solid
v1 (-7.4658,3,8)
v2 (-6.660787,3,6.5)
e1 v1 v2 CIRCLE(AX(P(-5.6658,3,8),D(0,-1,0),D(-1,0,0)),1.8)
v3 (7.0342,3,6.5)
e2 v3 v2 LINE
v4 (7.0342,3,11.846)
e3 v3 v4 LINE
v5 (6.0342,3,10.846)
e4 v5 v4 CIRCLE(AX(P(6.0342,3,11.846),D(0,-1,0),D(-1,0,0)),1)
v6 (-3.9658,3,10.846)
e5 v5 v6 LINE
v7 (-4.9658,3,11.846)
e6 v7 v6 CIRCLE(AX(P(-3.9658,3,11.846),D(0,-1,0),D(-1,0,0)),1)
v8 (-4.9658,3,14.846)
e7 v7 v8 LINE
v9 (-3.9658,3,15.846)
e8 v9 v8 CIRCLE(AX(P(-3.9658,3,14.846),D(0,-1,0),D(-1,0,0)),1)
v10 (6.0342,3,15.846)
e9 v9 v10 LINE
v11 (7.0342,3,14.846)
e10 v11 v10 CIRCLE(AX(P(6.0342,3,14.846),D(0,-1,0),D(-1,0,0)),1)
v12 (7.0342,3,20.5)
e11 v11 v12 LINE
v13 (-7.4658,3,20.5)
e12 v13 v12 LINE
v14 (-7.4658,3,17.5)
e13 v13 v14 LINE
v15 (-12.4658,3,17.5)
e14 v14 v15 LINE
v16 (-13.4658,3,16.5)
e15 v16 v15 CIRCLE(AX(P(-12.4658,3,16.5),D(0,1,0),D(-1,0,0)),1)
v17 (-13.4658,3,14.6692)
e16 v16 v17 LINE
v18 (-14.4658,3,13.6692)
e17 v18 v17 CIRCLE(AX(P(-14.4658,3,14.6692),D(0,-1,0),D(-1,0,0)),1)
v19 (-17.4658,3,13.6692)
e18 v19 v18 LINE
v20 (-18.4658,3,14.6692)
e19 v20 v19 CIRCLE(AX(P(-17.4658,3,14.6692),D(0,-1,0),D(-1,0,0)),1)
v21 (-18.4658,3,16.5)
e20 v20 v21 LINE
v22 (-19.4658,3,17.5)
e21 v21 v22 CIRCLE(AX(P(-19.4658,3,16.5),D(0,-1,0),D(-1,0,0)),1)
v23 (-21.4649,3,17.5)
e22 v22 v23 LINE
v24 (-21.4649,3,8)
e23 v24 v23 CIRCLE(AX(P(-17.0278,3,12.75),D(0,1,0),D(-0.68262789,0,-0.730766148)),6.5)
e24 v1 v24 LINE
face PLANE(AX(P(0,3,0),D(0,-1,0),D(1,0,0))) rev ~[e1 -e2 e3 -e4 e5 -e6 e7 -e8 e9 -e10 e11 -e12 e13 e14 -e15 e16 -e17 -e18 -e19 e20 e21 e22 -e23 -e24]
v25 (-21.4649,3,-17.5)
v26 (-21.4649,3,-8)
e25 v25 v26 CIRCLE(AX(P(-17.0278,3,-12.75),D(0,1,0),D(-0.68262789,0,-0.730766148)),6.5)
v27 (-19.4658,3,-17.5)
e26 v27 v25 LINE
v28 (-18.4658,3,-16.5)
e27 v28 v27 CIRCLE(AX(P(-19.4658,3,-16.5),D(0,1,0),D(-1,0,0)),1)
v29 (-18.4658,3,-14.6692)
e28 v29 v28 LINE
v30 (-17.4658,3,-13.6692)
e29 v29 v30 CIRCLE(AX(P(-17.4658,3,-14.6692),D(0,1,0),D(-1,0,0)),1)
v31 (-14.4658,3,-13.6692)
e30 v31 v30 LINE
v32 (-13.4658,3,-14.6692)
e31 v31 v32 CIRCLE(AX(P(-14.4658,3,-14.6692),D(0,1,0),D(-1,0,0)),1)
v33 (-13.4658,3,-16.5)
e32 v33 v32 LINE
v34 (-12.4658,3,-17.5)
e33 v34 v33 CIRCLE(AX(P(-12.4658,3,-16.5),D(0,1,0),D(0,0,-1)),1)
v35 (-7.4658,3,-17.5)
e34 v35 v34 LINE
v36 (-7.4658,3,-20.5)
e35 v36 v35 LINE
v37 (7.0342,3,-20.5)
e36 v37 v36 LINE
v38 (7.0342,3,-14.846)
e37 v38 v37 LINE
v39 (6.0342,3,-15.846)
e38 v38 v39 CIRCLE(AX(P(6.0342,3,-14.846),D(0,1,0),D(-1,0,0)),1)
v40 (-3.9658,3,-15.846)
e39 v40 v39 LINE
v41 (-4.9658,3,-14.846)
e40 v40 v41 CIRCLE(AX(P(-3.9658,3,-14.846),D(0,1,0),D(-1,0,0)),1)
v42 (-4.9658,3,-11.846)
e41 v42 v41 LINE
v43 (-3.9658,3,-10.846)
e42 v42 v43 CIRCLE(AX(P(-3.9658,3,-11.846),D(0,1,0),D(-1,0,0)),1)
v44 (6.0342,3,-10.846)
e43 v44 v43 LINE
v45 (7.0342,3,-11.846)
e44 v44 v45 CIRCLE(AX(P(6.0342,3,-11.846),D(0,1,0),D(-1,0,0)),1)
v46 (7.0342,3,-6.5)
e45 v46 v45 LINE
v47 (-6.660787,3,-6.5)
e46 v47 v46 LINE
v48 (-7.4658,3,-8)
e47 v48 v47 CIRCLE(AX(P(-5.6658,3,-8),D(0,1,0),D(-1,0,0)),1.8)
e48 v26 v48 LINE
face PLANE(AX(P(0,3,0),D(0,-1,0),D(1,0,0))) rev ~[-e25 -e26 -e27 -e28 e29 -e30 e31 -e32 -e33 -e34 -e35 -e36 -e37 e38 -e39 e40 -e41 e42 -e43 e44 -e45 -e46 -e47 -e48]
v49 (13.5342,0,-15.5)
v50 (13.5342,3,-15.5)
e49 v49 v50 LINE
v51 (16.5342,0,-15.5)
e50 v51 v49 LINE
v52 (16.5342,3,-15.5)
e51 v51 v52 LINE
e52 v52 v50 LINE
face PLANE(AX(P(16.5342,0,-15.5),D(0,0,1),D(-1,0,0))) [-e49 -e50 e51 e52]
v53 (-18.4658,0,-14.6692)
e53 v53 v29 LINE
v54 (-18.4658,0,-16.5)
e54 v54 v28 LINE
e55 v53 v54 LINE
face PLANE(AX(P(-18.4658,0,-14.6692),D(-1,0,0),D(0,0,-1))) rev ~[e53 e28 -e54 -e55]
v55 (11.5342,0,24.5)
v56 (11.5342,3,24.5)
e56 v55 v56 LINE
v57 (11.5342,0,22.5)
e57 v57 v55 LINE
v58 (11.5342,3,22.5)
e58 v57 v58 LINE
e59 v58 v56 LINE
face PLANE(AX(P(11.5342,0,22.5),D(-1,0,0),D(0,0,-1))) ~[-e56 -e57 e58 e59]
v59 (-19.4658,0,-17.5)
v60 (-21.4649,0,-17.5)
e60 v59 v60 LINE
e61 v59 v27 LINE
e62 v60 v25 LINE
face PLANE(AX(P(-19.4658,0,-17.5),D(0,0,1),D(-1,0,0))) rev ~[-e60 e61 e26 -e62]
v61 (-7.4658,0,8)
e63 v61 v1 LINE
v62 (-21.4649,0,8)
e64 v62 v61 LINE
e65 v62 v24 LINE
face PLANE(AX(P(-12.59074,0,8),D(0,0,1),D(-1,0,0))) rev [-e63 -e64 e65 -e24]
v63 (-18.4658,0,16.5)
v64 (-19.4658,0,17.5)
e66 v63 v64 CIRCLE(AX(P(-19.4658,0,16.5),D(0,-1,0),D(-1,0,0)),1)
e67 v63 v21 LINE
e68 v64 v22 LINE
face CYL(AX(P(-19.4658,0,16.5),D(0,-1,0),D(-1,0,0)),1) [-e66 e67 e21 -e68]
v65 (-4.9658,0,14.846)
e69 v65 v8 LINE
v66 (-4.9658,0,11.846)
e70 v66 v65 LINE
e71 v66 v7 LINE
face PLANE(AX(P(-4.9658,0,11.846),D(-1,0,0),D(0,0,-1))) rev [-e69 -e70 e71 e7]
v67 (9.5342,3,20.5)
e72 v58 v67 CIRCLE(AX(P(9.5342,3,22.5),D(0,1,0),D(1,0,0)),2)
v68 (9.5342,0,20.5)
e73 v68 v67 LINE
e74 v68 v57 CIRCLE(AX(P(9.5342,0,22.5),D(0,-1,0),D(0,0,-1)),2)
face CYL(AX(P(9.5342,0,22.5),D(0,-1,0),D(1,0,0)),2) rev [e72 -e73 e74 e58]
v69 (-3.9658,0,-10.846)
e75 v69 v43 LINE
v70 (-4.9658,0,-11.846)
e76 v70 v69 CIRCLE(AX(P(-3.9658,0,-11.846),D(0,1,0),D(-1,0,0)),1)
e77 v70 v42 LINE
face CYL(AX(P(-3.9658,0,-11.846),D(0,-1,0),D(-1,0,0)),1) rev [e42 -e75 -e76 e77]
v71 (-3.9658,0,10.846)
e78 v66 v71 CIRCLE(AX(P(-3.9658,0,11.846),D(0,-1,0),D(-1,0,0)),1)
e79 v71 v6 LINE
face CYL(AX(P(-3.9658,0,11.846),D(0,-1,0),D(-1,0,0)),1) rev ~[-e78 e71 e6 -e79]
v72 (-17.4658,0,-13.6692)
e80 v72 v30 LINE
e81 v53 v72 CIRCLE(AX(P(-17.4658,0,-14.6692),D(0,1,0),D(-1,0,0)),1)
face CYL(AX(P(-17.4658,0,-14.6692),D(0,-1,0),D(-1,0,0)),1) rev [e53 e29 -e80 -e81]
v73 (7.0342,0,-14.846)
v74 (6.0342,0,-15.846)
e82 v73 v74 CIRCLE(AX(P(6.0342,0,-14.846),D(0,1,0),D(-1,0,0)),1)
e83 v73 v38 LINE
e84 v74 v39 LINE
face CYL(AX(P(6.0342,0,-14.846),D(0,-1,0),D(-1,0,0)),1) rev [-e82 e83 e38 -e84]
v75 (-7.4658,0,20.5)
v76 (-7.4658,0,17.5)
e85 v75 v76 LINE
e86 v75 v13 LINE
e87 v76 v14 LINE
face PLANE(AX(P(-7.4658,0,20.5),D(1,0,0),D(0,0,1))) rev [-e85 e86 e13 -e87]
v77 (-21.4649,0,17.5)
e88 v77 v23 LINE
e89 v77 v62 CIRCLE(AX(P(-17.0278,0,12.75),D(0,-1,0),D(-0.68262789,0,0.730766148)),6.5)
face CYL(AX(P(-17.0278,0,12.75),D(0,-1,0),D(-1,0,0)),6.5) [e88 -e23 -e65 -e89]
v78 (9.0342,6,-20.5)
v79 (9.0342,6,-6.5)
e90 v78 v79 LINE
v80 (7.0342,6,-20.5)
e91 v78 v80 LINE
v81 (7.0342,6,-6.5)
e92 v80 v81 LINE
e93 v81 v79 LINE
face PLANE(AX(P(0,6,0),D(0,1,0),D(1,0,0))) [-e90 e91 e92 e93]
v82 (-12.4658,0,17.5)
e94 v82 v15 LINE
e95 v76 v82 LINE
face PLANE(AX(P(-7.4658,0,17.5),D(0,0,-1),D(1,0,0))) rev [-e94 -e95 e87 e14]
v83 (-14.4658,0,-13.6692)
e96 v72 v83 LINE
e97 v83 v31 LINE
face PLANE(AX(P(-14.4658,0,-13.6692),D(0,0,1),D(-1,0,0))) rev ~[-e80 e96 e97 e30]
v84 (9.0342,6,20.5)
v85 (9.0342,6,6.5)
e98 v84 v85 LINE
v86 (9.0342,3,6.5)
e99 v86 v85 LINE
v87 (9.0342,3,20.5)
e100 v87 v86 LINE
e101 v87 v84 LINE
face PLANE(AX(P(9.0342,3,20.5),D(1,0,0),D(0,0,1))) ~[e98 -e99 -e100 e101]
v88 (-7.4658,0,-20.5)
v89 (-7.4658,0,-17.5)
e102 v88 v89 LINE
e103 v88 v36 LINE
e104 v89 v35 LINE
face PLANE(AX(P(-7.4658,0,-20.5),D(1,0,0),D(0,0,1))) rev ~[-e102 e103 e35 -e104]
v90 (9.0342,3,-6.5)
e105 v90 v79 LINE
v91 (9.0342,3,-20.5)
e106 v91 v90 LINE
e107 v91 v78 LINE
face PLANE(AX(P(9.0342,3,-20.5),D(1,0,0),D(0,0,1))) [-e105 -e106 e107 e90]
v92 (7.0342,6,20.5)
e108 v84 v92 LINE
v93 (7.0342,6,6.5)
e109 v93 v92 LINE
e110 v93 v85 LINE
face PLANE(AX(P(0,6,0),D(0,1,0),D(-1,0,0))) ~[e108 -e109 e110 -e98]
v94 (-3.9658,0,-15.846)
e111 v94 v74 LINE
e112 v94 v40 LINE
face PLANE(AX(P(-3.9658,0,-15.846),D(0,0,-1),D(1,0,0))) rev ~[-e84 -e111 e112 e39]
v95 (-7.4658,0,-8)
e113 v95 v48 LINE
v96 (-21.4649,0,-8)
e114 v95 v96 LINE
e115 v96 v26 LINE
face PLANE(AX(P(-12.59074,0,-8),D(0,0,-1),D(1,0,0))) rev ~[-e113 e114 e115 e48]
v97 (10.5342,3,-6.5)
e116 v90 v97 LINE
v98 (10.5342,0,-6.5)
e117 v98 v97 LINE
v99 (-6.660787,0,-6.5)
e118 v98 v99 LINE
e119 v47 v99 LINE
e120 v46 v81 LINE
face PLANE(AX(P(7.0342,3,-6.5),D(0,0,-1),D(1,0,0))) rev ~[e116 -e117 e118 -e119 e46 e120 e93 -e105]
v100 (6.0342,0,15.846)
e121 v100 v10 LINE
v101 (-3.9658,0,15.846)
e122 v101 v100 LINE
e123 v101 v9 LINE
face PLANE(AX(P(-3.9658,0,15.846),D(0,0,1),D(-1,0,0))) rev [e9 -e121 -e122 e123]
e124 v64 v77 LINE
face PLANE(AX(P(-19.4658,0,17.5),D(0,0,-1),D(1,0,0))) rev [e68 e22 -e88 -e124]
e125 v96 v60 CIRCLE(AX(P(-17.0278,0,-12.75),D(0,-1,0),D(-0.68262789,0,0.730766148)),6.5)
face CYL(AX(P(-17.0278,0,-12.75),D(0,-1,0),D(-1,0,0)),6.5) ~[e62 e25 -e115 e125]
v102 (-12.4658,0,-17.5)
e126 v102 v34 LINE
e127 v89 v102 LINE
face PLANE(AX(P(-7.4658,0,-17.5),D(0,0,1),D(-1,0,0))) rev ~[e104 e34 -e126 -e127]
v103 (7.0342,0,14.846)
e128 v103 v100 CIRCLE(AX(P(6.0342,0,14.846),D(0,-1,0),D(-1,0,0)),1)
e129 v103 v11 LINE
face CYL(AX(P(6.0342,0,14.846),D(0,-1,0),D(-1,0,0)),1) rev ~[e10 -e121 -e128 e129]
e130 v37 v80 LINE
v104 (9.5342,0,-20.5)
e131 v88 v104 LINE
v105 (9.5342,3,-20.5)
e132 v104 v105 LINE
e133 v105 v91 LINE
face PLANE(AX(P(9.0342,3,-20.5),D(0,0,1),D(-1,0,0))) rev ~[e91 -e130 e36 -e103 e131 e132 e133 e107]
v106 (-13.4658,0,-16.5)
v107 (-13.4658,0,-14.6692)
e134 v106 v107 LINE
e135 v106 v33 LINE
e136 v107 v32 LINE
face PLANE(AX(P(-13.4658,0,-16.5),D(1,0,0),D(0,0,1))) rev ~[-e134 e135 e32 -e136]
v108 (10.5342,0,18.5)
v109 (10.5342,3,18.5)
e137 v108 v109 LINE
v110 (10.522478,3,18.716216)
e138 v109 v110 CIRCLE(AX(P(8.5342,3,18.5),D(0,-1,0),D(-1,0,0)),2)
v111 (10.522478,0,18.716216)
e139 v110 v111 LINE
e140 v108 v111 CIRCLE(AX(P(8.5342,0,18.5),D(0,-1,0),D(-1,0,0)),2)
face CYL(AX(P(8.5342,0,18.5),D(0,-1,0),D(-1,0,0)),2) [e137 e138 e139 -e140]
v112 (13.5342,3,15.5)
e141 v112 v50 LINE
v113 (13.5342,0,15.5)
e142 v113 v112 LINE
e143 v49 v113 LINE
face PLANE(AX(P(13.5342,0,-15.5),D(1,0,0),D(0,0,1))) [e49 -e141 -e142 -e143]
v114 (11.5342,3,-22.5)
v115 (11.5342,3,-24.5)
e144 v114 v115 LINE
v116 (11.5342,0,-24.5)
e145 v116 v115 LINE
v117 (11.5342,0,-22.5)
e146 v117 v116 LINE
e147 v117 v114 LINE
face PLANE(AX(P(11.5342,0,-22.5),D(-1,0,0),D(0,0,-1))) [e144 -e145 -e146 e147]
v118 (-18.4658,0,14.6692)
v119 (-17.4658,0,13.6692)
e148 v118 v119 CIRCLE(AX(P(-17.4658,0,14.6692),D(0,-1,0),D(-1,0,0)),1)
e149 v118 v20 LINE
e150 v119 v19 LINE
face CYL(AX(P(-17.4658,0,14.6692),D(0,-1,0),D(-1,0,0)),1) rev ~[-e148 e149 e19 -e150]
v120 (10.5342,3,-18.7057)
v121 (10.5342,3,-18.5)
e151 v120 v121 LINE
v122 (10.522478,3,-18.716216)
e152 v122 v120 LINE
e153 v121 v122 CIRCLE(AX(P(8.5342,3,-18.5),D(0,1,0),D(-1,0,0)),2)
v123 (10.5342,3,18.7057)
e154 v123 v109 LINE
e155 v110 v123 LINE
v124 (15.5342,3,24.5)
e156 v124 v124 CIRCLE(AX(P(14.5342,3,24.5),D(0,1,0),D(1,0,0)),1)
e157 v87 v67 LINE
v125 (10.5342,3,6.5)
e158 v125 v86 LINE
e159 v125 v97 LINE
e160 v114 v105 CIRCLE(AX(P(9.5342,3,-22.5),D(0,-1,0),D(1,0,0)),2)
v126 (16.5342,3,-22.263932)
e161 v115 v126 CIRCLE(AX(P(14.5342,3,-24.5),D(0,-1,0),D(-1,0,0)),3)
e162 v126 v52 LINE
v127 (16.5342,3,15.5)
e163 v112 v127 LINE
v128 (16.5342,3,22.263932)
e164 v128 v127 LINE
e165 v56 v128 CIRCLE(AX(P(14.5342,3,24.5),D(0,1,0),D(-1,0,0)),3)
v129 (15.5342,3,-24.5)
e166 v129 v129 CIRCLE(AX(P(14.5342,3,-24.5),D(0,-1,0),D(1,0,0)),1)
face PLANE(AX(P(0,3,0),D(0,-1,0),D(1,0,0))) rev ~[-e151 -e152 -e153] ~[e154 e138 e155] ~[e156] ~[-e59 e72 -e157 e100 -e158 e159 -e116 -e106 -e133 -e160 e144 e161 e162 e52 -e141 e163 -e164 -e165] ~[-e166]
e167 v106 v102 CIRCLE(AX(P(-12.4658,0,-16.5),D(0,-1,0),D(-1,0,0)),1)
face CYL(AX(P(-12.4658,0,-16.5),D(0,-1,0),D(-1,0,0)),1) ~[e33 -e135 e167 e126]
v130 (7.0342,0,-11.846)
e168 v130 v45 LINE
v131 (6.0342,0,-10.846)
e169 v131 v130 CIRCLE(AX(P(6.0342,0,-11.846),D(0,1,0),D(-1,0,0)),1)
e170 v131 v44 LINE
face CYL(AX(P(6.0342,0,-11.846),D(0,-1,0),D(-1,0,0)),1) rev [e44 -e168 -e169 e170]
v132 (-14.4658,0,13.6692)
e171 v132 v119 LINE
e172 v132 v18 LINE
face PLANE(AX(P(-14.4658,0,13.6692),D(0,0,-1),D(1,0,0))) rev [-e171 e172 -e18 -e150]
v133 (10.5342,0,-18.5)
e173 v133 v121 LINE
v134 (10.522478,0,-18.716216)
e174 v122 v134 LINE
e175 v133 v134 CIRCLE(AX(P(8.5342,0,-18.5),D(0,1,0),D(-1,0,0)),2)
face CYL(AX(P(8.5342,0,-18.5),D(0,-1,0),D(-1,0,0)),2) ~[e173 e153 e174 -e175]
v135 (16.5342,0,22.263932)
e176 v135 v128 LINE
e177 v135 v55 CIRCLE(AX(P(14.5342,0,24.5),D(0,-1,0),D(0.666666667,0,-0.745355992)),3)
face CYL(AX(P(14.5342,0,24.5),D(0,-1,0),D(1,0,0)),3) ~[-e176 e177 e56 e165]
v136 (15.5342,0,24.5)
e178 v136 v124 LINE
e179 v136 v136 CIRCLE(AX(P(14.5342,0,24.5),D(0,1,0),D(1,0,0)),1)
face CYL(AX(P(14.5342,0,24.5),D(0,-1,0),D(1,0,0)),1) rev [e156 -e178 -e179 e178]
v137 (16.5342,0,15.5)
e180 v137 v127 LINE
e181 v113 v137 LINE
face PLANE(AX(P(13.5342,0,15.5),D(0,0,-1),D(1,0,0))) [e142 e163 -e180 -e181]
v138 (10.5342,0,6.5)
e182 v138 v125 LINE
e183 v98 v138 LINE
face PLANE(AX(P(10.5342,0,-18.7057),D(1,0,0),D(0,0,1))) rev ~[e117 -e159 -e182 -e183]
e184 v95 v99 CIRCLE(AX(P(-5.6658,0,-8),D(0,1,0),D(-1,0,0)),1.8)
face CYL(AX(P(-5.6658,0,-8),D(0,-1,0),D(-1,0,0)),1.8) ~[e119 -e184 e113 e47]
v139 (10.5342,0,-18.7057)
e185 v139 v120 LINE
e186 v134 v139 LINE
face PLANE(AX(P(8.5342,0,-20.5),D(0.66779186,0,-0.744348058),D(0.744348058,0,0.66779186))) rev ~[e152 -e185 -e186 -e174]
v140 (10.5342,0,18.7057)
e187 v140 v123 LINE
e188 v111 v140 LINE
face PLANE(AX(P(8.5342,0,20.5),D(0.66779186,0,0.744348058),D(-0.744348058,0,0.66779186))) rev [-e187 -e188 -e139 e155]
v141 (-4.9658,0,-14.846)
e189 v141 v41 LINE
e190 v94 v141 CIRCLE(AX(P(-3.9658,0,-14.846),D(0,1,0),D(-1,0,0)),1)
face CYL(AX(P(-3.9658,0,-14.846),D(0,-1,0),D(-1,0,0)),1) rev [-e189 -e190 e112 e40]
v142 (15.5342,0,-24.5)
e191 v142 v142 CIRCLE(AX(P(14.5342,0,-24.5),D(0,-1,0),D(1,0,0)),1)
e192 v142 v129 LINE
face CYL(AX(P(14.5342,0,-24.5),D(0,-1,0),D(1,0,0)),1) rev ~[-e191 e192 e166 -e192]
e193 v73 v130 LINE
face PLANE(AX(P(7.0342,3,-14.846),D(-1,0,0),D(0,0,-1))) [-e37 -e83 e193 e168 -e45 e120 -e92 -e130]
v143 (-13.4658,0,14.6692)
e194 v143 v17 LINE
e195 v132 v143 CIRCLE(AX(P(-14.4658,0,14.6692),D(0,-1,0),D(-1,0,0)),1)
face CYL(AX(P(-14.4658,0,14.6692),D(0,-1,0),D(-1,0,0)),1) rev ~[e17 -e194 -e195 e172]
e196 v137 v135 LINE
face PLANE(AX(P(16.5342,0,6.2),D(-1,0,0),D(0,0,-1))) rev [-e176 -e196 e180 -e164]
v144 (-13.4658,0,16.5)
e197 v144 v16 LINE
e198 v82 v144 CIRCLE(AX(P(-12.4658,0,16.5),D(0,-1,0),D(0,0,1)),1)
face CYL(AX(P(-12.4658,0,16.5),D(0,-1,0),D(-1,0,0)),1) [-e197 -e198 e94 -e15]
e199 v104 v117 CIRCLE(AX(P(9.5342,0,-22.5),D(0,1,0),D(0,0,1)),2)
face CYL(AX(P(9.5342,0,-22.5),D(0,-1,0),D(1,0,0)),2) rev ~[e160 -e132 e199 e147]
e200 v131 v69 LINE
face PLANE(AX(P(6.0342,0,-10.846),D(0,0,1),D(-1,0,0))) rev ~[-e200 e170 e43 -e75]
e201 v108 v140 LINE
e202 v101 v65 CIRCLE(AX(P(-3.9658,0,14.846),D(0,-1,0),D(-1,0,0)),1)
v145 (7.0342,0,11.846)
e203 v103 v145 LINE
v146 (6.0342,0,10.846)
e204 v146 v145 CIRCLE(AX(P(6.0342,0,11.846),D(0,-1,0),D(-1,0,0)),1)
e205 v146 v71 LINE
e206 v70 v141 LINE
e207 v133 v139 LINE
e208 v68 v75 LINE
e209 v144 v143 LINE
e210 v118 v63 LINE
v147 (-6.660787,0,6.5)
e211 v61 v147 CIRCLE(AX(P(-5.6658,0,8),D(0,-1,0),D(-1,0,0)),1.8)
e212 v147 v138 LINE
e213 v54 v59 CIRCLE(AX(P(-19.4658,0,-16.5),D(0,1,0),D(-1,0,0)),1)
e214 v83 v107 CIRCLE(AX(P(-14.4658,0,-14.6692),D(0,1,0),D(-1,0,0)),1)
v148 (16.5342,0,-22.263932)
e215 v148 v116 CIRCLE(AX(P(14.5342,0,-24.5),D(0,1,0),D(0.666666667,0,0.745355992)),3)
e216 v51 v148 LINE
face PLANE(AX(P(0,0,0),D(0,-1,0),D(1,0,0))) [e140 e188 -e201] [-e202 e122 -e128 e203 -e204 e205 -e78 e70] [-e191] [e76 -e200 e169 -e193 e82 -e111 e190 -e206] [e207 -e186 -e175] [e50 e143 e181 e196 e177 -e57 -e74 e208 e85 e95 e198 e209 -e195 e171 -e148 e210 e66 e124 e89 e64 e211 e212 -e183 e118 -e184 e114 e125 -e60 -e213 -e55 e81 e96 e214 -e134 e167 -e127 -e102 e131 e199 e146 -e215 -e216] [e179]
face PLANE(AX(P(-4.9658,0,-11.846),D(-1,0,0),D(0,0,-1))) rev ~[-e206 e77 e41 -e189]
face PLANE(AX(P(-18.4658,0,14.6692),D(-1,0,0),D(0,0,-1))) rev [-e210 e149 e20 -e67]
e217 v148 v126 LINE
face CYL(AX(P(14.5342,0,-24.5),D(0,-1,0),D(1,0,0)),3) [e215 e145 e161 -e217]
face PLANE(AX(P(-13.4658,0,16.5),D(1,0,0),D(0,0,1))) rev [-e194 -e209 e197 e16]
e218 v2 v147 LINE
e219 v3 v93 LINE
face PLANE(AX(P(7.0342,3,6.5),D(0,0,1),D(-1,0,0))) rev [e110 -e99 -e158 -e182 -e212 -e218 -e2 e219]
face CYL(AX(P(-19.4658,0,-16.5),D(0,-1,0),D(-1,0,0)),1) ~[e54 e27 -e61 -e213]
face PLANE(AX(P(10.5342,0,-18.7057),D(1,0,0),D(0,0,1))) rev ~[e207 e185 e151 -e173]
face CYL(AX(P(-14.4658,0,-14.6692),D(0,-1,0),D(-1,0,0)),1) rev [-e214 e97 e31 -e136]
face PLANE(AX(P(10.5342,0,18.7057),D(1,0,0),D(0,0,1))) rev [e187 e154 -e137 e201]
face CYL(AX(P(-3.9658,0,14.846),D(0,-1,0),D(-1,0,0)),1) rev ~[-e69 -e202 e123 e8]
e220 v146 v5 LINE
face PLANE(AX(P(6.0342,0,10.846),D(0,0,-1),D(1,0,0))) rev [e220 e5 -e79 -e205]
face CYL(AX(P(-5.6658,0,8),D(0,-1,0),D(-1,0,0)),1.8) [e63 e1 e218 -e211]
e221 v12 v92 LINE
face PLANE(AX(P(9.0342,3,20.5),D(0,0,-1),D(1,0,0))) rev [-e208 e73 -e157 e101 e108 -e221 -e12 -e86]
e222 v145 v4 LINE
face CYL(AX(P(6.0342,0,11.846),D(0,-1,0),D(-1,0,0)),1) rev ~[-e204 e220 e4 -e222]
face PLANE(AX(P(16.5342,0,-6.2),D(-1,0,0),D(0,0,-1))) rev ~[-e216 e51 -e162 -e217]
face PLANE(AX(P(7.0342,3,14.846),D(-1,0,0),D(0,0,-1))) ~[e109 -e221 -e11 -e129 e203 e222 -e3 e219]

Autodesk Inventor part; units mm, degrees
ref_plane "YZ Plane" through (0, 0, 0) normal (1, 0, 0) x (0, 1, 0)
ref_plane "XZ Plane" through (0, 0, 0) normal (0, 1, 0) x (-1, 0, 0)
ref_plane "XY Plane" through (0, 0, 0) normal (0, 0, 1) x (1, 0, 0)
sketch "Sketch1" plane through (0, 0, 0) normal (0, 1, 0) x (-1, 0, 0)
  line L0 (17.0278, 0) -> (-10.5342, 0)
  line L1 (-10.5342, 0) -> (-10.5342, -20.5)
  line L2 (-10.5342, -20.5) -> (17.0278, -20.5)
  line L3 (17.0278, -20.5) -> (17.0278, 0)
  line L4 (4.9658, -15.846) -> (-7.0342, -15.846)
  line L5 (-7.0342, -15.846) -> (-7.0342, -10.846)
  line L6 (-7.0342, -10.846) -> (4.9658, -10.846)
  line L7 (4.9658, -10.846) -> (4.9658, -15.846)
  circle A0 centre (-6.0342, -14.846) radius 1
  circle A1 centre (3.9658, -14.846) radius 1
  circle A2 centre (3.9658, -11.846) radius 1
  circle A3 centre (-6.0342, -11.846) radius 1
  circle A4 centre (-8.5342, -18.5) radius 2
  line L8 (17.0278, -20.5) -> (-8.5342, -20.5)
  line L9 (-8.5342, -20.5) -> (-8.5342, -6.2)
  line L10 (-8.5342, -6.2) -> (17.0278, -6.2)
  line L11 (17.0278, -6.2) -> (17.0278, -20.5)
  line L12 (-10.5342, -20.5) -> (7.4658, -20.5)
  line L13 (7.4658, -20.5) -> (7.4658, -17.5)
  line L14 (7.4658, -17.5) -> (-10.5342, -17.5)
  line L15 (-10.5342, -17.5) -> (-10.5342, -20.5)
  line L16 (7.4658, -17.5) -> (17.0278, -17.5)
  line L17 (17.0278, -17.5) -> (17.0278, -8)
  line L18 (17.0278, -8) -> (7.4658, -8)
  line L19 (7.4658, -8) -> (7.4658, -17.5)
  circle A5 centre (17.0278, -12.75) radius 6.5
  line L20 (17.0278, -17.5) -> (21.4649, -17.5)
  line L21 (21.4649, -17.5) -> (21.4649, -8)
  line L22 (21.4649, -8) -> (17.0278, -8)
  line L23 (17.0278, -8) -> (17.0278, -17.5)
  circle A6 centre (5.6658, -8) radius 1.8
  line L24 (18.4658, -17.5) -> (13.4658, -17.5)
  line L25 (13.4658, -17.5) -> (13.4658, -13.6692)
  line L26 (13.4658, -13.6692) -> (18.4658, -13.6692)
  line L27 (18.4658, -13.6692) -> (18.4658, -17.5)
  circle A7 centre (19.4658, -16.5) radius 1
  circle A8 centre (17.4658, -14.6692) radius 1
  circle A9 centre (14.4658, -14.6692) radius 1
  circle A10 centre (12.4658, -16.5) radius 1
  line L28 (-8.5342, -17.5) -> (-10.5342, -17.5)
  line L29 (-10.5342, -17.5) -> (-10.5342, -6.2)
  line L30 (-10.5342, -6.2) -> (-8.5342, -6.2)
  line L31 (-8.5342, -6.2) -> (-8.5342, -17.5)
  point P0 (0, 0)
  point P1 (4.9658, -11.846)
  point P2 (4.9658, -14.846)
  point P3 (3.9658, -15.846)
  point P4 (-6.0342, -15.846)
  point P5 (-7.0342, -14.846)
  point P6 (-7.0342, -11.846)
  point P7 (-6.0342, -10.846)
  point P8 (3.9658, -10.846)
  point P9 (-8.5342, -16.5)
  point P10 (-8.5342, -20.5)
  point P11 (12.4658, -17.5)
  point P12 (13.4658, -16.5)
  point P13 (13.4658, -14.6692)
  point P14 (14.4658, -13.6692)
  point P15 (17.4658, -13.6692)
  point P16 (18.4658, -14.6692)
  point P17 (18.4658, -16.5)
  point P18 (19.4658, -17.5)
  point P19 (5.6658, -6.2)
  point P20 (-10.5342, -18.5)
  dimension "d26" = 13
  dimension "d1" = 20.5
  dimension "d2" = 0
  dimension "d3" = 12
  dimension "d4" = 5
  dimension "d5" = 4.654
  dimension "d6" = 3.5
  dimension "d7" = 2
  dimension "d8" = 2
  dimension "d9" = 2
  dimension "d10" = 2
  dimension "d11" = 1
  dimension "d12" = 1
  dimension "d13" = 1
  dimension "d14" = 1
  dimension "d15" = 1
  dimension "d16" = 1
  dimension "d17" = 1
  dimension "d18" = 1
  dimension "d19" = 4
  dimension "d20" = 2
  dimension "d21" = 14.3
  dimension "d22" = 18
  dimension "d23" = 3
  dimension "d24" = 9.5
  dimension "d25" = 9.562
  dimension "d27" = 1.8
  dimension "d28" = 5
  dimension "d29" = 8.5
  dimension "d30" = 2
  dimension "d31" = 2
  dimension "d32" = 2
  dimension "d33" = 2
  dimension "d34" = 1
  dimension "d35" = 1
  dimension "d36" = 1
  dimension "d37" = 1
  dimension "d38" = 1
  dimension "d39" = 1
  dimension "d40" = 1
  dimension "d41" = 1
extrude "Extrusion1" add sketch "Sketch1" along normal blind 3 contours L30 L9 A4 L14 L1 | A6 L19 L14 A4 L9 L10 | A6 | L14 A4 L1 | L22 L21 L20 A7 L27 L26 L3 | L3 L26 L25 A10 A5 L18 | A5 L21 | A5 A10 L16 L19 L18 | A4 L14 L9 | A4 L9 L14 | A4 L14 L9 | A10 A5 | A5 A10 | L13 L2 A4 L14 | L9 L14 A4 | A9 L25 L26 | L26 L27 A8 | A7 | L4 A1 L7 | L4 L5 A0 | A2 L6 L7 | L5 L6 A3
mirror "Mirror1" about plane through (0, 0, 0) normal (0, 0, 1) of "Extrusion1"
sketch "Sketch2" plane through (0, 0, 0) normal (0, -1, 0) x (1, 0, 0)
  circle A0 centre (14.5342, -24.5) radius 1
  line L0 (8.5342, -20.5) -> (-7.4658, -20.5) projected
  line L1 (10.5342, -6.2) -> (10.5342, -18.5) projected
  line L2 (10.5342, -6.2) -> (16.5342, -6.2)
  line L3 (16.5342, -6.2) -> (16.5342, -28.6617)
  line L4 (16.5342, -28.6617) -> (10.5342, -28.6617)
  line L5 (10.5342, -28.6617) -> (10.5342, -6.2)
  circle A1 centre (14.5342, -24.5) radius 3
  line L6 (8.5342, -20.5) -> (11.5342, -20.5)
  line L7 (11.5342, -20.5) -> (11.5342, -24.5)
  circle A2 centre (9.5342, -22.5) radius 2
  line L8 (16.5342, -6.2) -> (10.5342, -6.2)
  line L9 (10.5342, -6.2) -> (10.5342, 0)
  line L10 (10.5342, 0) -> (16.5342, 0)
  line L11 (16.5342, 0) -> (16.5342, -6.2)
  line L12 (8.5342, -20.5) -> (-7.4658, -20.5) projected
  line L13 (8.5342, -20.5) -> (10.5342, -18.7057)
  point P0 (0, 0)
  point P1 (9.5342, -20.5)
  point P2 (10.5342, -20.7679)
  point P3 (10.5342, -20.5)
  point P4 (16.5342, -22.2639)
  point P5 (11.5342, -22.5)
  dimension "d48" = 6
  dimension "d44" = 2
  dimension "d46" = 4
  dimension "d47" = 6
  dimension "d49" = 4
  dimension "d50" = 2
  dimension "d51" = 6.2
  dimension "d64" = 24.5
extrude "Extrusion2" add sketch "Sketch2" against normal blind 3 contours L2 L3 A1 L7 L6 L5 L1 | L9 L10 L11 L2 | L5 L6 L13 | A1 L3 | L3 A1 | L6 L7 A2 L5 | L5 A2 L6
mirror "Mirror2" about plane through (10.5342, 0, 0) normal (0, 0, 1) of "Extrusion2"
sketch "Sketch3" plane through (0, 0, 0) normal (0, -1, 0) x (1, 0, 0)
  line L0 (13.5342, 15.5) -> (16.5342, 15.5)
  line L1 (16.5342, 15.5) -> (16.5342, -15.5)
  line L2 (16.5342, -15.5) -> (13.5342, -15.5)
  line L3 (13.5342, -15.5) -> (13.5342, 15.5)
  line L4 (16.5342, -22.2639) -> (16.5342, 22.2639) projected
  point P0 (0, 0)
  dimension "d54" = 31
  dimension "d55" = 0
  dimension "d56" = 15.5
  dimension "d57" = 3
extrude "Extrusion3" cut sketch "Sketch3" against normal blind 3
sketch "Sketch5" plane through (0, 0, 0) normal (0, -1, 0) x (1, 0, 0)
  line L0 (10.5342, 6.5) -> (-20.8216, 6.5)
  line L1 (-20.8216, 6.5) -> (-20.8216, -6.5)
  line L2 (-20.8216, -6.5) -> (10.5342, -6.5)
  line L3 (10.5342, -6.5) -> (10.5342, 6.5)
  point P0 (0, 0)
  dimension "d60" = 13
  dimension "d61" = 6.5
extrude "Extrusion4" cut sketch "Sketch5" against normal blind 3
sketch "Sketch6" plane through (0, 3, 0) normal (0, 1, 0) x (1, 0, 0)
  line L0 (9.5342, 20.5) -> (-7.4658, 20.5) projected
  line L1 (-6.6608, 6.5) -> (10.5342, 6.5) projected
  line L2 (7.0342, 20.5) -> (9.0342, 20.5)
  line L3 (9.0342, 20.5) -> (9.0342, 6.5)
  line L4 (9.0342, 6.5) -> (7.0342, 6.5)
  line L5 (7.0342, 6.5) -> (7.0342, 20.5)
  line L6 (10.5342, 6.5) -> (10.5342, -6.5) projected
  line L7 (7.0342, 14.846) -> (7.0342, 11.846) projected
  point P0 (0, 0)
  dimension "d65" = 1.5
  dimension "d66" = 0
extrude "Extrusion5" add sketch "Sketch6" along normal blind 3
mirror "Mirror3" about plane through (0, 0, 0) normal (0, 0, 1) of "Extrusion5"
properties part number "Base_modded"
